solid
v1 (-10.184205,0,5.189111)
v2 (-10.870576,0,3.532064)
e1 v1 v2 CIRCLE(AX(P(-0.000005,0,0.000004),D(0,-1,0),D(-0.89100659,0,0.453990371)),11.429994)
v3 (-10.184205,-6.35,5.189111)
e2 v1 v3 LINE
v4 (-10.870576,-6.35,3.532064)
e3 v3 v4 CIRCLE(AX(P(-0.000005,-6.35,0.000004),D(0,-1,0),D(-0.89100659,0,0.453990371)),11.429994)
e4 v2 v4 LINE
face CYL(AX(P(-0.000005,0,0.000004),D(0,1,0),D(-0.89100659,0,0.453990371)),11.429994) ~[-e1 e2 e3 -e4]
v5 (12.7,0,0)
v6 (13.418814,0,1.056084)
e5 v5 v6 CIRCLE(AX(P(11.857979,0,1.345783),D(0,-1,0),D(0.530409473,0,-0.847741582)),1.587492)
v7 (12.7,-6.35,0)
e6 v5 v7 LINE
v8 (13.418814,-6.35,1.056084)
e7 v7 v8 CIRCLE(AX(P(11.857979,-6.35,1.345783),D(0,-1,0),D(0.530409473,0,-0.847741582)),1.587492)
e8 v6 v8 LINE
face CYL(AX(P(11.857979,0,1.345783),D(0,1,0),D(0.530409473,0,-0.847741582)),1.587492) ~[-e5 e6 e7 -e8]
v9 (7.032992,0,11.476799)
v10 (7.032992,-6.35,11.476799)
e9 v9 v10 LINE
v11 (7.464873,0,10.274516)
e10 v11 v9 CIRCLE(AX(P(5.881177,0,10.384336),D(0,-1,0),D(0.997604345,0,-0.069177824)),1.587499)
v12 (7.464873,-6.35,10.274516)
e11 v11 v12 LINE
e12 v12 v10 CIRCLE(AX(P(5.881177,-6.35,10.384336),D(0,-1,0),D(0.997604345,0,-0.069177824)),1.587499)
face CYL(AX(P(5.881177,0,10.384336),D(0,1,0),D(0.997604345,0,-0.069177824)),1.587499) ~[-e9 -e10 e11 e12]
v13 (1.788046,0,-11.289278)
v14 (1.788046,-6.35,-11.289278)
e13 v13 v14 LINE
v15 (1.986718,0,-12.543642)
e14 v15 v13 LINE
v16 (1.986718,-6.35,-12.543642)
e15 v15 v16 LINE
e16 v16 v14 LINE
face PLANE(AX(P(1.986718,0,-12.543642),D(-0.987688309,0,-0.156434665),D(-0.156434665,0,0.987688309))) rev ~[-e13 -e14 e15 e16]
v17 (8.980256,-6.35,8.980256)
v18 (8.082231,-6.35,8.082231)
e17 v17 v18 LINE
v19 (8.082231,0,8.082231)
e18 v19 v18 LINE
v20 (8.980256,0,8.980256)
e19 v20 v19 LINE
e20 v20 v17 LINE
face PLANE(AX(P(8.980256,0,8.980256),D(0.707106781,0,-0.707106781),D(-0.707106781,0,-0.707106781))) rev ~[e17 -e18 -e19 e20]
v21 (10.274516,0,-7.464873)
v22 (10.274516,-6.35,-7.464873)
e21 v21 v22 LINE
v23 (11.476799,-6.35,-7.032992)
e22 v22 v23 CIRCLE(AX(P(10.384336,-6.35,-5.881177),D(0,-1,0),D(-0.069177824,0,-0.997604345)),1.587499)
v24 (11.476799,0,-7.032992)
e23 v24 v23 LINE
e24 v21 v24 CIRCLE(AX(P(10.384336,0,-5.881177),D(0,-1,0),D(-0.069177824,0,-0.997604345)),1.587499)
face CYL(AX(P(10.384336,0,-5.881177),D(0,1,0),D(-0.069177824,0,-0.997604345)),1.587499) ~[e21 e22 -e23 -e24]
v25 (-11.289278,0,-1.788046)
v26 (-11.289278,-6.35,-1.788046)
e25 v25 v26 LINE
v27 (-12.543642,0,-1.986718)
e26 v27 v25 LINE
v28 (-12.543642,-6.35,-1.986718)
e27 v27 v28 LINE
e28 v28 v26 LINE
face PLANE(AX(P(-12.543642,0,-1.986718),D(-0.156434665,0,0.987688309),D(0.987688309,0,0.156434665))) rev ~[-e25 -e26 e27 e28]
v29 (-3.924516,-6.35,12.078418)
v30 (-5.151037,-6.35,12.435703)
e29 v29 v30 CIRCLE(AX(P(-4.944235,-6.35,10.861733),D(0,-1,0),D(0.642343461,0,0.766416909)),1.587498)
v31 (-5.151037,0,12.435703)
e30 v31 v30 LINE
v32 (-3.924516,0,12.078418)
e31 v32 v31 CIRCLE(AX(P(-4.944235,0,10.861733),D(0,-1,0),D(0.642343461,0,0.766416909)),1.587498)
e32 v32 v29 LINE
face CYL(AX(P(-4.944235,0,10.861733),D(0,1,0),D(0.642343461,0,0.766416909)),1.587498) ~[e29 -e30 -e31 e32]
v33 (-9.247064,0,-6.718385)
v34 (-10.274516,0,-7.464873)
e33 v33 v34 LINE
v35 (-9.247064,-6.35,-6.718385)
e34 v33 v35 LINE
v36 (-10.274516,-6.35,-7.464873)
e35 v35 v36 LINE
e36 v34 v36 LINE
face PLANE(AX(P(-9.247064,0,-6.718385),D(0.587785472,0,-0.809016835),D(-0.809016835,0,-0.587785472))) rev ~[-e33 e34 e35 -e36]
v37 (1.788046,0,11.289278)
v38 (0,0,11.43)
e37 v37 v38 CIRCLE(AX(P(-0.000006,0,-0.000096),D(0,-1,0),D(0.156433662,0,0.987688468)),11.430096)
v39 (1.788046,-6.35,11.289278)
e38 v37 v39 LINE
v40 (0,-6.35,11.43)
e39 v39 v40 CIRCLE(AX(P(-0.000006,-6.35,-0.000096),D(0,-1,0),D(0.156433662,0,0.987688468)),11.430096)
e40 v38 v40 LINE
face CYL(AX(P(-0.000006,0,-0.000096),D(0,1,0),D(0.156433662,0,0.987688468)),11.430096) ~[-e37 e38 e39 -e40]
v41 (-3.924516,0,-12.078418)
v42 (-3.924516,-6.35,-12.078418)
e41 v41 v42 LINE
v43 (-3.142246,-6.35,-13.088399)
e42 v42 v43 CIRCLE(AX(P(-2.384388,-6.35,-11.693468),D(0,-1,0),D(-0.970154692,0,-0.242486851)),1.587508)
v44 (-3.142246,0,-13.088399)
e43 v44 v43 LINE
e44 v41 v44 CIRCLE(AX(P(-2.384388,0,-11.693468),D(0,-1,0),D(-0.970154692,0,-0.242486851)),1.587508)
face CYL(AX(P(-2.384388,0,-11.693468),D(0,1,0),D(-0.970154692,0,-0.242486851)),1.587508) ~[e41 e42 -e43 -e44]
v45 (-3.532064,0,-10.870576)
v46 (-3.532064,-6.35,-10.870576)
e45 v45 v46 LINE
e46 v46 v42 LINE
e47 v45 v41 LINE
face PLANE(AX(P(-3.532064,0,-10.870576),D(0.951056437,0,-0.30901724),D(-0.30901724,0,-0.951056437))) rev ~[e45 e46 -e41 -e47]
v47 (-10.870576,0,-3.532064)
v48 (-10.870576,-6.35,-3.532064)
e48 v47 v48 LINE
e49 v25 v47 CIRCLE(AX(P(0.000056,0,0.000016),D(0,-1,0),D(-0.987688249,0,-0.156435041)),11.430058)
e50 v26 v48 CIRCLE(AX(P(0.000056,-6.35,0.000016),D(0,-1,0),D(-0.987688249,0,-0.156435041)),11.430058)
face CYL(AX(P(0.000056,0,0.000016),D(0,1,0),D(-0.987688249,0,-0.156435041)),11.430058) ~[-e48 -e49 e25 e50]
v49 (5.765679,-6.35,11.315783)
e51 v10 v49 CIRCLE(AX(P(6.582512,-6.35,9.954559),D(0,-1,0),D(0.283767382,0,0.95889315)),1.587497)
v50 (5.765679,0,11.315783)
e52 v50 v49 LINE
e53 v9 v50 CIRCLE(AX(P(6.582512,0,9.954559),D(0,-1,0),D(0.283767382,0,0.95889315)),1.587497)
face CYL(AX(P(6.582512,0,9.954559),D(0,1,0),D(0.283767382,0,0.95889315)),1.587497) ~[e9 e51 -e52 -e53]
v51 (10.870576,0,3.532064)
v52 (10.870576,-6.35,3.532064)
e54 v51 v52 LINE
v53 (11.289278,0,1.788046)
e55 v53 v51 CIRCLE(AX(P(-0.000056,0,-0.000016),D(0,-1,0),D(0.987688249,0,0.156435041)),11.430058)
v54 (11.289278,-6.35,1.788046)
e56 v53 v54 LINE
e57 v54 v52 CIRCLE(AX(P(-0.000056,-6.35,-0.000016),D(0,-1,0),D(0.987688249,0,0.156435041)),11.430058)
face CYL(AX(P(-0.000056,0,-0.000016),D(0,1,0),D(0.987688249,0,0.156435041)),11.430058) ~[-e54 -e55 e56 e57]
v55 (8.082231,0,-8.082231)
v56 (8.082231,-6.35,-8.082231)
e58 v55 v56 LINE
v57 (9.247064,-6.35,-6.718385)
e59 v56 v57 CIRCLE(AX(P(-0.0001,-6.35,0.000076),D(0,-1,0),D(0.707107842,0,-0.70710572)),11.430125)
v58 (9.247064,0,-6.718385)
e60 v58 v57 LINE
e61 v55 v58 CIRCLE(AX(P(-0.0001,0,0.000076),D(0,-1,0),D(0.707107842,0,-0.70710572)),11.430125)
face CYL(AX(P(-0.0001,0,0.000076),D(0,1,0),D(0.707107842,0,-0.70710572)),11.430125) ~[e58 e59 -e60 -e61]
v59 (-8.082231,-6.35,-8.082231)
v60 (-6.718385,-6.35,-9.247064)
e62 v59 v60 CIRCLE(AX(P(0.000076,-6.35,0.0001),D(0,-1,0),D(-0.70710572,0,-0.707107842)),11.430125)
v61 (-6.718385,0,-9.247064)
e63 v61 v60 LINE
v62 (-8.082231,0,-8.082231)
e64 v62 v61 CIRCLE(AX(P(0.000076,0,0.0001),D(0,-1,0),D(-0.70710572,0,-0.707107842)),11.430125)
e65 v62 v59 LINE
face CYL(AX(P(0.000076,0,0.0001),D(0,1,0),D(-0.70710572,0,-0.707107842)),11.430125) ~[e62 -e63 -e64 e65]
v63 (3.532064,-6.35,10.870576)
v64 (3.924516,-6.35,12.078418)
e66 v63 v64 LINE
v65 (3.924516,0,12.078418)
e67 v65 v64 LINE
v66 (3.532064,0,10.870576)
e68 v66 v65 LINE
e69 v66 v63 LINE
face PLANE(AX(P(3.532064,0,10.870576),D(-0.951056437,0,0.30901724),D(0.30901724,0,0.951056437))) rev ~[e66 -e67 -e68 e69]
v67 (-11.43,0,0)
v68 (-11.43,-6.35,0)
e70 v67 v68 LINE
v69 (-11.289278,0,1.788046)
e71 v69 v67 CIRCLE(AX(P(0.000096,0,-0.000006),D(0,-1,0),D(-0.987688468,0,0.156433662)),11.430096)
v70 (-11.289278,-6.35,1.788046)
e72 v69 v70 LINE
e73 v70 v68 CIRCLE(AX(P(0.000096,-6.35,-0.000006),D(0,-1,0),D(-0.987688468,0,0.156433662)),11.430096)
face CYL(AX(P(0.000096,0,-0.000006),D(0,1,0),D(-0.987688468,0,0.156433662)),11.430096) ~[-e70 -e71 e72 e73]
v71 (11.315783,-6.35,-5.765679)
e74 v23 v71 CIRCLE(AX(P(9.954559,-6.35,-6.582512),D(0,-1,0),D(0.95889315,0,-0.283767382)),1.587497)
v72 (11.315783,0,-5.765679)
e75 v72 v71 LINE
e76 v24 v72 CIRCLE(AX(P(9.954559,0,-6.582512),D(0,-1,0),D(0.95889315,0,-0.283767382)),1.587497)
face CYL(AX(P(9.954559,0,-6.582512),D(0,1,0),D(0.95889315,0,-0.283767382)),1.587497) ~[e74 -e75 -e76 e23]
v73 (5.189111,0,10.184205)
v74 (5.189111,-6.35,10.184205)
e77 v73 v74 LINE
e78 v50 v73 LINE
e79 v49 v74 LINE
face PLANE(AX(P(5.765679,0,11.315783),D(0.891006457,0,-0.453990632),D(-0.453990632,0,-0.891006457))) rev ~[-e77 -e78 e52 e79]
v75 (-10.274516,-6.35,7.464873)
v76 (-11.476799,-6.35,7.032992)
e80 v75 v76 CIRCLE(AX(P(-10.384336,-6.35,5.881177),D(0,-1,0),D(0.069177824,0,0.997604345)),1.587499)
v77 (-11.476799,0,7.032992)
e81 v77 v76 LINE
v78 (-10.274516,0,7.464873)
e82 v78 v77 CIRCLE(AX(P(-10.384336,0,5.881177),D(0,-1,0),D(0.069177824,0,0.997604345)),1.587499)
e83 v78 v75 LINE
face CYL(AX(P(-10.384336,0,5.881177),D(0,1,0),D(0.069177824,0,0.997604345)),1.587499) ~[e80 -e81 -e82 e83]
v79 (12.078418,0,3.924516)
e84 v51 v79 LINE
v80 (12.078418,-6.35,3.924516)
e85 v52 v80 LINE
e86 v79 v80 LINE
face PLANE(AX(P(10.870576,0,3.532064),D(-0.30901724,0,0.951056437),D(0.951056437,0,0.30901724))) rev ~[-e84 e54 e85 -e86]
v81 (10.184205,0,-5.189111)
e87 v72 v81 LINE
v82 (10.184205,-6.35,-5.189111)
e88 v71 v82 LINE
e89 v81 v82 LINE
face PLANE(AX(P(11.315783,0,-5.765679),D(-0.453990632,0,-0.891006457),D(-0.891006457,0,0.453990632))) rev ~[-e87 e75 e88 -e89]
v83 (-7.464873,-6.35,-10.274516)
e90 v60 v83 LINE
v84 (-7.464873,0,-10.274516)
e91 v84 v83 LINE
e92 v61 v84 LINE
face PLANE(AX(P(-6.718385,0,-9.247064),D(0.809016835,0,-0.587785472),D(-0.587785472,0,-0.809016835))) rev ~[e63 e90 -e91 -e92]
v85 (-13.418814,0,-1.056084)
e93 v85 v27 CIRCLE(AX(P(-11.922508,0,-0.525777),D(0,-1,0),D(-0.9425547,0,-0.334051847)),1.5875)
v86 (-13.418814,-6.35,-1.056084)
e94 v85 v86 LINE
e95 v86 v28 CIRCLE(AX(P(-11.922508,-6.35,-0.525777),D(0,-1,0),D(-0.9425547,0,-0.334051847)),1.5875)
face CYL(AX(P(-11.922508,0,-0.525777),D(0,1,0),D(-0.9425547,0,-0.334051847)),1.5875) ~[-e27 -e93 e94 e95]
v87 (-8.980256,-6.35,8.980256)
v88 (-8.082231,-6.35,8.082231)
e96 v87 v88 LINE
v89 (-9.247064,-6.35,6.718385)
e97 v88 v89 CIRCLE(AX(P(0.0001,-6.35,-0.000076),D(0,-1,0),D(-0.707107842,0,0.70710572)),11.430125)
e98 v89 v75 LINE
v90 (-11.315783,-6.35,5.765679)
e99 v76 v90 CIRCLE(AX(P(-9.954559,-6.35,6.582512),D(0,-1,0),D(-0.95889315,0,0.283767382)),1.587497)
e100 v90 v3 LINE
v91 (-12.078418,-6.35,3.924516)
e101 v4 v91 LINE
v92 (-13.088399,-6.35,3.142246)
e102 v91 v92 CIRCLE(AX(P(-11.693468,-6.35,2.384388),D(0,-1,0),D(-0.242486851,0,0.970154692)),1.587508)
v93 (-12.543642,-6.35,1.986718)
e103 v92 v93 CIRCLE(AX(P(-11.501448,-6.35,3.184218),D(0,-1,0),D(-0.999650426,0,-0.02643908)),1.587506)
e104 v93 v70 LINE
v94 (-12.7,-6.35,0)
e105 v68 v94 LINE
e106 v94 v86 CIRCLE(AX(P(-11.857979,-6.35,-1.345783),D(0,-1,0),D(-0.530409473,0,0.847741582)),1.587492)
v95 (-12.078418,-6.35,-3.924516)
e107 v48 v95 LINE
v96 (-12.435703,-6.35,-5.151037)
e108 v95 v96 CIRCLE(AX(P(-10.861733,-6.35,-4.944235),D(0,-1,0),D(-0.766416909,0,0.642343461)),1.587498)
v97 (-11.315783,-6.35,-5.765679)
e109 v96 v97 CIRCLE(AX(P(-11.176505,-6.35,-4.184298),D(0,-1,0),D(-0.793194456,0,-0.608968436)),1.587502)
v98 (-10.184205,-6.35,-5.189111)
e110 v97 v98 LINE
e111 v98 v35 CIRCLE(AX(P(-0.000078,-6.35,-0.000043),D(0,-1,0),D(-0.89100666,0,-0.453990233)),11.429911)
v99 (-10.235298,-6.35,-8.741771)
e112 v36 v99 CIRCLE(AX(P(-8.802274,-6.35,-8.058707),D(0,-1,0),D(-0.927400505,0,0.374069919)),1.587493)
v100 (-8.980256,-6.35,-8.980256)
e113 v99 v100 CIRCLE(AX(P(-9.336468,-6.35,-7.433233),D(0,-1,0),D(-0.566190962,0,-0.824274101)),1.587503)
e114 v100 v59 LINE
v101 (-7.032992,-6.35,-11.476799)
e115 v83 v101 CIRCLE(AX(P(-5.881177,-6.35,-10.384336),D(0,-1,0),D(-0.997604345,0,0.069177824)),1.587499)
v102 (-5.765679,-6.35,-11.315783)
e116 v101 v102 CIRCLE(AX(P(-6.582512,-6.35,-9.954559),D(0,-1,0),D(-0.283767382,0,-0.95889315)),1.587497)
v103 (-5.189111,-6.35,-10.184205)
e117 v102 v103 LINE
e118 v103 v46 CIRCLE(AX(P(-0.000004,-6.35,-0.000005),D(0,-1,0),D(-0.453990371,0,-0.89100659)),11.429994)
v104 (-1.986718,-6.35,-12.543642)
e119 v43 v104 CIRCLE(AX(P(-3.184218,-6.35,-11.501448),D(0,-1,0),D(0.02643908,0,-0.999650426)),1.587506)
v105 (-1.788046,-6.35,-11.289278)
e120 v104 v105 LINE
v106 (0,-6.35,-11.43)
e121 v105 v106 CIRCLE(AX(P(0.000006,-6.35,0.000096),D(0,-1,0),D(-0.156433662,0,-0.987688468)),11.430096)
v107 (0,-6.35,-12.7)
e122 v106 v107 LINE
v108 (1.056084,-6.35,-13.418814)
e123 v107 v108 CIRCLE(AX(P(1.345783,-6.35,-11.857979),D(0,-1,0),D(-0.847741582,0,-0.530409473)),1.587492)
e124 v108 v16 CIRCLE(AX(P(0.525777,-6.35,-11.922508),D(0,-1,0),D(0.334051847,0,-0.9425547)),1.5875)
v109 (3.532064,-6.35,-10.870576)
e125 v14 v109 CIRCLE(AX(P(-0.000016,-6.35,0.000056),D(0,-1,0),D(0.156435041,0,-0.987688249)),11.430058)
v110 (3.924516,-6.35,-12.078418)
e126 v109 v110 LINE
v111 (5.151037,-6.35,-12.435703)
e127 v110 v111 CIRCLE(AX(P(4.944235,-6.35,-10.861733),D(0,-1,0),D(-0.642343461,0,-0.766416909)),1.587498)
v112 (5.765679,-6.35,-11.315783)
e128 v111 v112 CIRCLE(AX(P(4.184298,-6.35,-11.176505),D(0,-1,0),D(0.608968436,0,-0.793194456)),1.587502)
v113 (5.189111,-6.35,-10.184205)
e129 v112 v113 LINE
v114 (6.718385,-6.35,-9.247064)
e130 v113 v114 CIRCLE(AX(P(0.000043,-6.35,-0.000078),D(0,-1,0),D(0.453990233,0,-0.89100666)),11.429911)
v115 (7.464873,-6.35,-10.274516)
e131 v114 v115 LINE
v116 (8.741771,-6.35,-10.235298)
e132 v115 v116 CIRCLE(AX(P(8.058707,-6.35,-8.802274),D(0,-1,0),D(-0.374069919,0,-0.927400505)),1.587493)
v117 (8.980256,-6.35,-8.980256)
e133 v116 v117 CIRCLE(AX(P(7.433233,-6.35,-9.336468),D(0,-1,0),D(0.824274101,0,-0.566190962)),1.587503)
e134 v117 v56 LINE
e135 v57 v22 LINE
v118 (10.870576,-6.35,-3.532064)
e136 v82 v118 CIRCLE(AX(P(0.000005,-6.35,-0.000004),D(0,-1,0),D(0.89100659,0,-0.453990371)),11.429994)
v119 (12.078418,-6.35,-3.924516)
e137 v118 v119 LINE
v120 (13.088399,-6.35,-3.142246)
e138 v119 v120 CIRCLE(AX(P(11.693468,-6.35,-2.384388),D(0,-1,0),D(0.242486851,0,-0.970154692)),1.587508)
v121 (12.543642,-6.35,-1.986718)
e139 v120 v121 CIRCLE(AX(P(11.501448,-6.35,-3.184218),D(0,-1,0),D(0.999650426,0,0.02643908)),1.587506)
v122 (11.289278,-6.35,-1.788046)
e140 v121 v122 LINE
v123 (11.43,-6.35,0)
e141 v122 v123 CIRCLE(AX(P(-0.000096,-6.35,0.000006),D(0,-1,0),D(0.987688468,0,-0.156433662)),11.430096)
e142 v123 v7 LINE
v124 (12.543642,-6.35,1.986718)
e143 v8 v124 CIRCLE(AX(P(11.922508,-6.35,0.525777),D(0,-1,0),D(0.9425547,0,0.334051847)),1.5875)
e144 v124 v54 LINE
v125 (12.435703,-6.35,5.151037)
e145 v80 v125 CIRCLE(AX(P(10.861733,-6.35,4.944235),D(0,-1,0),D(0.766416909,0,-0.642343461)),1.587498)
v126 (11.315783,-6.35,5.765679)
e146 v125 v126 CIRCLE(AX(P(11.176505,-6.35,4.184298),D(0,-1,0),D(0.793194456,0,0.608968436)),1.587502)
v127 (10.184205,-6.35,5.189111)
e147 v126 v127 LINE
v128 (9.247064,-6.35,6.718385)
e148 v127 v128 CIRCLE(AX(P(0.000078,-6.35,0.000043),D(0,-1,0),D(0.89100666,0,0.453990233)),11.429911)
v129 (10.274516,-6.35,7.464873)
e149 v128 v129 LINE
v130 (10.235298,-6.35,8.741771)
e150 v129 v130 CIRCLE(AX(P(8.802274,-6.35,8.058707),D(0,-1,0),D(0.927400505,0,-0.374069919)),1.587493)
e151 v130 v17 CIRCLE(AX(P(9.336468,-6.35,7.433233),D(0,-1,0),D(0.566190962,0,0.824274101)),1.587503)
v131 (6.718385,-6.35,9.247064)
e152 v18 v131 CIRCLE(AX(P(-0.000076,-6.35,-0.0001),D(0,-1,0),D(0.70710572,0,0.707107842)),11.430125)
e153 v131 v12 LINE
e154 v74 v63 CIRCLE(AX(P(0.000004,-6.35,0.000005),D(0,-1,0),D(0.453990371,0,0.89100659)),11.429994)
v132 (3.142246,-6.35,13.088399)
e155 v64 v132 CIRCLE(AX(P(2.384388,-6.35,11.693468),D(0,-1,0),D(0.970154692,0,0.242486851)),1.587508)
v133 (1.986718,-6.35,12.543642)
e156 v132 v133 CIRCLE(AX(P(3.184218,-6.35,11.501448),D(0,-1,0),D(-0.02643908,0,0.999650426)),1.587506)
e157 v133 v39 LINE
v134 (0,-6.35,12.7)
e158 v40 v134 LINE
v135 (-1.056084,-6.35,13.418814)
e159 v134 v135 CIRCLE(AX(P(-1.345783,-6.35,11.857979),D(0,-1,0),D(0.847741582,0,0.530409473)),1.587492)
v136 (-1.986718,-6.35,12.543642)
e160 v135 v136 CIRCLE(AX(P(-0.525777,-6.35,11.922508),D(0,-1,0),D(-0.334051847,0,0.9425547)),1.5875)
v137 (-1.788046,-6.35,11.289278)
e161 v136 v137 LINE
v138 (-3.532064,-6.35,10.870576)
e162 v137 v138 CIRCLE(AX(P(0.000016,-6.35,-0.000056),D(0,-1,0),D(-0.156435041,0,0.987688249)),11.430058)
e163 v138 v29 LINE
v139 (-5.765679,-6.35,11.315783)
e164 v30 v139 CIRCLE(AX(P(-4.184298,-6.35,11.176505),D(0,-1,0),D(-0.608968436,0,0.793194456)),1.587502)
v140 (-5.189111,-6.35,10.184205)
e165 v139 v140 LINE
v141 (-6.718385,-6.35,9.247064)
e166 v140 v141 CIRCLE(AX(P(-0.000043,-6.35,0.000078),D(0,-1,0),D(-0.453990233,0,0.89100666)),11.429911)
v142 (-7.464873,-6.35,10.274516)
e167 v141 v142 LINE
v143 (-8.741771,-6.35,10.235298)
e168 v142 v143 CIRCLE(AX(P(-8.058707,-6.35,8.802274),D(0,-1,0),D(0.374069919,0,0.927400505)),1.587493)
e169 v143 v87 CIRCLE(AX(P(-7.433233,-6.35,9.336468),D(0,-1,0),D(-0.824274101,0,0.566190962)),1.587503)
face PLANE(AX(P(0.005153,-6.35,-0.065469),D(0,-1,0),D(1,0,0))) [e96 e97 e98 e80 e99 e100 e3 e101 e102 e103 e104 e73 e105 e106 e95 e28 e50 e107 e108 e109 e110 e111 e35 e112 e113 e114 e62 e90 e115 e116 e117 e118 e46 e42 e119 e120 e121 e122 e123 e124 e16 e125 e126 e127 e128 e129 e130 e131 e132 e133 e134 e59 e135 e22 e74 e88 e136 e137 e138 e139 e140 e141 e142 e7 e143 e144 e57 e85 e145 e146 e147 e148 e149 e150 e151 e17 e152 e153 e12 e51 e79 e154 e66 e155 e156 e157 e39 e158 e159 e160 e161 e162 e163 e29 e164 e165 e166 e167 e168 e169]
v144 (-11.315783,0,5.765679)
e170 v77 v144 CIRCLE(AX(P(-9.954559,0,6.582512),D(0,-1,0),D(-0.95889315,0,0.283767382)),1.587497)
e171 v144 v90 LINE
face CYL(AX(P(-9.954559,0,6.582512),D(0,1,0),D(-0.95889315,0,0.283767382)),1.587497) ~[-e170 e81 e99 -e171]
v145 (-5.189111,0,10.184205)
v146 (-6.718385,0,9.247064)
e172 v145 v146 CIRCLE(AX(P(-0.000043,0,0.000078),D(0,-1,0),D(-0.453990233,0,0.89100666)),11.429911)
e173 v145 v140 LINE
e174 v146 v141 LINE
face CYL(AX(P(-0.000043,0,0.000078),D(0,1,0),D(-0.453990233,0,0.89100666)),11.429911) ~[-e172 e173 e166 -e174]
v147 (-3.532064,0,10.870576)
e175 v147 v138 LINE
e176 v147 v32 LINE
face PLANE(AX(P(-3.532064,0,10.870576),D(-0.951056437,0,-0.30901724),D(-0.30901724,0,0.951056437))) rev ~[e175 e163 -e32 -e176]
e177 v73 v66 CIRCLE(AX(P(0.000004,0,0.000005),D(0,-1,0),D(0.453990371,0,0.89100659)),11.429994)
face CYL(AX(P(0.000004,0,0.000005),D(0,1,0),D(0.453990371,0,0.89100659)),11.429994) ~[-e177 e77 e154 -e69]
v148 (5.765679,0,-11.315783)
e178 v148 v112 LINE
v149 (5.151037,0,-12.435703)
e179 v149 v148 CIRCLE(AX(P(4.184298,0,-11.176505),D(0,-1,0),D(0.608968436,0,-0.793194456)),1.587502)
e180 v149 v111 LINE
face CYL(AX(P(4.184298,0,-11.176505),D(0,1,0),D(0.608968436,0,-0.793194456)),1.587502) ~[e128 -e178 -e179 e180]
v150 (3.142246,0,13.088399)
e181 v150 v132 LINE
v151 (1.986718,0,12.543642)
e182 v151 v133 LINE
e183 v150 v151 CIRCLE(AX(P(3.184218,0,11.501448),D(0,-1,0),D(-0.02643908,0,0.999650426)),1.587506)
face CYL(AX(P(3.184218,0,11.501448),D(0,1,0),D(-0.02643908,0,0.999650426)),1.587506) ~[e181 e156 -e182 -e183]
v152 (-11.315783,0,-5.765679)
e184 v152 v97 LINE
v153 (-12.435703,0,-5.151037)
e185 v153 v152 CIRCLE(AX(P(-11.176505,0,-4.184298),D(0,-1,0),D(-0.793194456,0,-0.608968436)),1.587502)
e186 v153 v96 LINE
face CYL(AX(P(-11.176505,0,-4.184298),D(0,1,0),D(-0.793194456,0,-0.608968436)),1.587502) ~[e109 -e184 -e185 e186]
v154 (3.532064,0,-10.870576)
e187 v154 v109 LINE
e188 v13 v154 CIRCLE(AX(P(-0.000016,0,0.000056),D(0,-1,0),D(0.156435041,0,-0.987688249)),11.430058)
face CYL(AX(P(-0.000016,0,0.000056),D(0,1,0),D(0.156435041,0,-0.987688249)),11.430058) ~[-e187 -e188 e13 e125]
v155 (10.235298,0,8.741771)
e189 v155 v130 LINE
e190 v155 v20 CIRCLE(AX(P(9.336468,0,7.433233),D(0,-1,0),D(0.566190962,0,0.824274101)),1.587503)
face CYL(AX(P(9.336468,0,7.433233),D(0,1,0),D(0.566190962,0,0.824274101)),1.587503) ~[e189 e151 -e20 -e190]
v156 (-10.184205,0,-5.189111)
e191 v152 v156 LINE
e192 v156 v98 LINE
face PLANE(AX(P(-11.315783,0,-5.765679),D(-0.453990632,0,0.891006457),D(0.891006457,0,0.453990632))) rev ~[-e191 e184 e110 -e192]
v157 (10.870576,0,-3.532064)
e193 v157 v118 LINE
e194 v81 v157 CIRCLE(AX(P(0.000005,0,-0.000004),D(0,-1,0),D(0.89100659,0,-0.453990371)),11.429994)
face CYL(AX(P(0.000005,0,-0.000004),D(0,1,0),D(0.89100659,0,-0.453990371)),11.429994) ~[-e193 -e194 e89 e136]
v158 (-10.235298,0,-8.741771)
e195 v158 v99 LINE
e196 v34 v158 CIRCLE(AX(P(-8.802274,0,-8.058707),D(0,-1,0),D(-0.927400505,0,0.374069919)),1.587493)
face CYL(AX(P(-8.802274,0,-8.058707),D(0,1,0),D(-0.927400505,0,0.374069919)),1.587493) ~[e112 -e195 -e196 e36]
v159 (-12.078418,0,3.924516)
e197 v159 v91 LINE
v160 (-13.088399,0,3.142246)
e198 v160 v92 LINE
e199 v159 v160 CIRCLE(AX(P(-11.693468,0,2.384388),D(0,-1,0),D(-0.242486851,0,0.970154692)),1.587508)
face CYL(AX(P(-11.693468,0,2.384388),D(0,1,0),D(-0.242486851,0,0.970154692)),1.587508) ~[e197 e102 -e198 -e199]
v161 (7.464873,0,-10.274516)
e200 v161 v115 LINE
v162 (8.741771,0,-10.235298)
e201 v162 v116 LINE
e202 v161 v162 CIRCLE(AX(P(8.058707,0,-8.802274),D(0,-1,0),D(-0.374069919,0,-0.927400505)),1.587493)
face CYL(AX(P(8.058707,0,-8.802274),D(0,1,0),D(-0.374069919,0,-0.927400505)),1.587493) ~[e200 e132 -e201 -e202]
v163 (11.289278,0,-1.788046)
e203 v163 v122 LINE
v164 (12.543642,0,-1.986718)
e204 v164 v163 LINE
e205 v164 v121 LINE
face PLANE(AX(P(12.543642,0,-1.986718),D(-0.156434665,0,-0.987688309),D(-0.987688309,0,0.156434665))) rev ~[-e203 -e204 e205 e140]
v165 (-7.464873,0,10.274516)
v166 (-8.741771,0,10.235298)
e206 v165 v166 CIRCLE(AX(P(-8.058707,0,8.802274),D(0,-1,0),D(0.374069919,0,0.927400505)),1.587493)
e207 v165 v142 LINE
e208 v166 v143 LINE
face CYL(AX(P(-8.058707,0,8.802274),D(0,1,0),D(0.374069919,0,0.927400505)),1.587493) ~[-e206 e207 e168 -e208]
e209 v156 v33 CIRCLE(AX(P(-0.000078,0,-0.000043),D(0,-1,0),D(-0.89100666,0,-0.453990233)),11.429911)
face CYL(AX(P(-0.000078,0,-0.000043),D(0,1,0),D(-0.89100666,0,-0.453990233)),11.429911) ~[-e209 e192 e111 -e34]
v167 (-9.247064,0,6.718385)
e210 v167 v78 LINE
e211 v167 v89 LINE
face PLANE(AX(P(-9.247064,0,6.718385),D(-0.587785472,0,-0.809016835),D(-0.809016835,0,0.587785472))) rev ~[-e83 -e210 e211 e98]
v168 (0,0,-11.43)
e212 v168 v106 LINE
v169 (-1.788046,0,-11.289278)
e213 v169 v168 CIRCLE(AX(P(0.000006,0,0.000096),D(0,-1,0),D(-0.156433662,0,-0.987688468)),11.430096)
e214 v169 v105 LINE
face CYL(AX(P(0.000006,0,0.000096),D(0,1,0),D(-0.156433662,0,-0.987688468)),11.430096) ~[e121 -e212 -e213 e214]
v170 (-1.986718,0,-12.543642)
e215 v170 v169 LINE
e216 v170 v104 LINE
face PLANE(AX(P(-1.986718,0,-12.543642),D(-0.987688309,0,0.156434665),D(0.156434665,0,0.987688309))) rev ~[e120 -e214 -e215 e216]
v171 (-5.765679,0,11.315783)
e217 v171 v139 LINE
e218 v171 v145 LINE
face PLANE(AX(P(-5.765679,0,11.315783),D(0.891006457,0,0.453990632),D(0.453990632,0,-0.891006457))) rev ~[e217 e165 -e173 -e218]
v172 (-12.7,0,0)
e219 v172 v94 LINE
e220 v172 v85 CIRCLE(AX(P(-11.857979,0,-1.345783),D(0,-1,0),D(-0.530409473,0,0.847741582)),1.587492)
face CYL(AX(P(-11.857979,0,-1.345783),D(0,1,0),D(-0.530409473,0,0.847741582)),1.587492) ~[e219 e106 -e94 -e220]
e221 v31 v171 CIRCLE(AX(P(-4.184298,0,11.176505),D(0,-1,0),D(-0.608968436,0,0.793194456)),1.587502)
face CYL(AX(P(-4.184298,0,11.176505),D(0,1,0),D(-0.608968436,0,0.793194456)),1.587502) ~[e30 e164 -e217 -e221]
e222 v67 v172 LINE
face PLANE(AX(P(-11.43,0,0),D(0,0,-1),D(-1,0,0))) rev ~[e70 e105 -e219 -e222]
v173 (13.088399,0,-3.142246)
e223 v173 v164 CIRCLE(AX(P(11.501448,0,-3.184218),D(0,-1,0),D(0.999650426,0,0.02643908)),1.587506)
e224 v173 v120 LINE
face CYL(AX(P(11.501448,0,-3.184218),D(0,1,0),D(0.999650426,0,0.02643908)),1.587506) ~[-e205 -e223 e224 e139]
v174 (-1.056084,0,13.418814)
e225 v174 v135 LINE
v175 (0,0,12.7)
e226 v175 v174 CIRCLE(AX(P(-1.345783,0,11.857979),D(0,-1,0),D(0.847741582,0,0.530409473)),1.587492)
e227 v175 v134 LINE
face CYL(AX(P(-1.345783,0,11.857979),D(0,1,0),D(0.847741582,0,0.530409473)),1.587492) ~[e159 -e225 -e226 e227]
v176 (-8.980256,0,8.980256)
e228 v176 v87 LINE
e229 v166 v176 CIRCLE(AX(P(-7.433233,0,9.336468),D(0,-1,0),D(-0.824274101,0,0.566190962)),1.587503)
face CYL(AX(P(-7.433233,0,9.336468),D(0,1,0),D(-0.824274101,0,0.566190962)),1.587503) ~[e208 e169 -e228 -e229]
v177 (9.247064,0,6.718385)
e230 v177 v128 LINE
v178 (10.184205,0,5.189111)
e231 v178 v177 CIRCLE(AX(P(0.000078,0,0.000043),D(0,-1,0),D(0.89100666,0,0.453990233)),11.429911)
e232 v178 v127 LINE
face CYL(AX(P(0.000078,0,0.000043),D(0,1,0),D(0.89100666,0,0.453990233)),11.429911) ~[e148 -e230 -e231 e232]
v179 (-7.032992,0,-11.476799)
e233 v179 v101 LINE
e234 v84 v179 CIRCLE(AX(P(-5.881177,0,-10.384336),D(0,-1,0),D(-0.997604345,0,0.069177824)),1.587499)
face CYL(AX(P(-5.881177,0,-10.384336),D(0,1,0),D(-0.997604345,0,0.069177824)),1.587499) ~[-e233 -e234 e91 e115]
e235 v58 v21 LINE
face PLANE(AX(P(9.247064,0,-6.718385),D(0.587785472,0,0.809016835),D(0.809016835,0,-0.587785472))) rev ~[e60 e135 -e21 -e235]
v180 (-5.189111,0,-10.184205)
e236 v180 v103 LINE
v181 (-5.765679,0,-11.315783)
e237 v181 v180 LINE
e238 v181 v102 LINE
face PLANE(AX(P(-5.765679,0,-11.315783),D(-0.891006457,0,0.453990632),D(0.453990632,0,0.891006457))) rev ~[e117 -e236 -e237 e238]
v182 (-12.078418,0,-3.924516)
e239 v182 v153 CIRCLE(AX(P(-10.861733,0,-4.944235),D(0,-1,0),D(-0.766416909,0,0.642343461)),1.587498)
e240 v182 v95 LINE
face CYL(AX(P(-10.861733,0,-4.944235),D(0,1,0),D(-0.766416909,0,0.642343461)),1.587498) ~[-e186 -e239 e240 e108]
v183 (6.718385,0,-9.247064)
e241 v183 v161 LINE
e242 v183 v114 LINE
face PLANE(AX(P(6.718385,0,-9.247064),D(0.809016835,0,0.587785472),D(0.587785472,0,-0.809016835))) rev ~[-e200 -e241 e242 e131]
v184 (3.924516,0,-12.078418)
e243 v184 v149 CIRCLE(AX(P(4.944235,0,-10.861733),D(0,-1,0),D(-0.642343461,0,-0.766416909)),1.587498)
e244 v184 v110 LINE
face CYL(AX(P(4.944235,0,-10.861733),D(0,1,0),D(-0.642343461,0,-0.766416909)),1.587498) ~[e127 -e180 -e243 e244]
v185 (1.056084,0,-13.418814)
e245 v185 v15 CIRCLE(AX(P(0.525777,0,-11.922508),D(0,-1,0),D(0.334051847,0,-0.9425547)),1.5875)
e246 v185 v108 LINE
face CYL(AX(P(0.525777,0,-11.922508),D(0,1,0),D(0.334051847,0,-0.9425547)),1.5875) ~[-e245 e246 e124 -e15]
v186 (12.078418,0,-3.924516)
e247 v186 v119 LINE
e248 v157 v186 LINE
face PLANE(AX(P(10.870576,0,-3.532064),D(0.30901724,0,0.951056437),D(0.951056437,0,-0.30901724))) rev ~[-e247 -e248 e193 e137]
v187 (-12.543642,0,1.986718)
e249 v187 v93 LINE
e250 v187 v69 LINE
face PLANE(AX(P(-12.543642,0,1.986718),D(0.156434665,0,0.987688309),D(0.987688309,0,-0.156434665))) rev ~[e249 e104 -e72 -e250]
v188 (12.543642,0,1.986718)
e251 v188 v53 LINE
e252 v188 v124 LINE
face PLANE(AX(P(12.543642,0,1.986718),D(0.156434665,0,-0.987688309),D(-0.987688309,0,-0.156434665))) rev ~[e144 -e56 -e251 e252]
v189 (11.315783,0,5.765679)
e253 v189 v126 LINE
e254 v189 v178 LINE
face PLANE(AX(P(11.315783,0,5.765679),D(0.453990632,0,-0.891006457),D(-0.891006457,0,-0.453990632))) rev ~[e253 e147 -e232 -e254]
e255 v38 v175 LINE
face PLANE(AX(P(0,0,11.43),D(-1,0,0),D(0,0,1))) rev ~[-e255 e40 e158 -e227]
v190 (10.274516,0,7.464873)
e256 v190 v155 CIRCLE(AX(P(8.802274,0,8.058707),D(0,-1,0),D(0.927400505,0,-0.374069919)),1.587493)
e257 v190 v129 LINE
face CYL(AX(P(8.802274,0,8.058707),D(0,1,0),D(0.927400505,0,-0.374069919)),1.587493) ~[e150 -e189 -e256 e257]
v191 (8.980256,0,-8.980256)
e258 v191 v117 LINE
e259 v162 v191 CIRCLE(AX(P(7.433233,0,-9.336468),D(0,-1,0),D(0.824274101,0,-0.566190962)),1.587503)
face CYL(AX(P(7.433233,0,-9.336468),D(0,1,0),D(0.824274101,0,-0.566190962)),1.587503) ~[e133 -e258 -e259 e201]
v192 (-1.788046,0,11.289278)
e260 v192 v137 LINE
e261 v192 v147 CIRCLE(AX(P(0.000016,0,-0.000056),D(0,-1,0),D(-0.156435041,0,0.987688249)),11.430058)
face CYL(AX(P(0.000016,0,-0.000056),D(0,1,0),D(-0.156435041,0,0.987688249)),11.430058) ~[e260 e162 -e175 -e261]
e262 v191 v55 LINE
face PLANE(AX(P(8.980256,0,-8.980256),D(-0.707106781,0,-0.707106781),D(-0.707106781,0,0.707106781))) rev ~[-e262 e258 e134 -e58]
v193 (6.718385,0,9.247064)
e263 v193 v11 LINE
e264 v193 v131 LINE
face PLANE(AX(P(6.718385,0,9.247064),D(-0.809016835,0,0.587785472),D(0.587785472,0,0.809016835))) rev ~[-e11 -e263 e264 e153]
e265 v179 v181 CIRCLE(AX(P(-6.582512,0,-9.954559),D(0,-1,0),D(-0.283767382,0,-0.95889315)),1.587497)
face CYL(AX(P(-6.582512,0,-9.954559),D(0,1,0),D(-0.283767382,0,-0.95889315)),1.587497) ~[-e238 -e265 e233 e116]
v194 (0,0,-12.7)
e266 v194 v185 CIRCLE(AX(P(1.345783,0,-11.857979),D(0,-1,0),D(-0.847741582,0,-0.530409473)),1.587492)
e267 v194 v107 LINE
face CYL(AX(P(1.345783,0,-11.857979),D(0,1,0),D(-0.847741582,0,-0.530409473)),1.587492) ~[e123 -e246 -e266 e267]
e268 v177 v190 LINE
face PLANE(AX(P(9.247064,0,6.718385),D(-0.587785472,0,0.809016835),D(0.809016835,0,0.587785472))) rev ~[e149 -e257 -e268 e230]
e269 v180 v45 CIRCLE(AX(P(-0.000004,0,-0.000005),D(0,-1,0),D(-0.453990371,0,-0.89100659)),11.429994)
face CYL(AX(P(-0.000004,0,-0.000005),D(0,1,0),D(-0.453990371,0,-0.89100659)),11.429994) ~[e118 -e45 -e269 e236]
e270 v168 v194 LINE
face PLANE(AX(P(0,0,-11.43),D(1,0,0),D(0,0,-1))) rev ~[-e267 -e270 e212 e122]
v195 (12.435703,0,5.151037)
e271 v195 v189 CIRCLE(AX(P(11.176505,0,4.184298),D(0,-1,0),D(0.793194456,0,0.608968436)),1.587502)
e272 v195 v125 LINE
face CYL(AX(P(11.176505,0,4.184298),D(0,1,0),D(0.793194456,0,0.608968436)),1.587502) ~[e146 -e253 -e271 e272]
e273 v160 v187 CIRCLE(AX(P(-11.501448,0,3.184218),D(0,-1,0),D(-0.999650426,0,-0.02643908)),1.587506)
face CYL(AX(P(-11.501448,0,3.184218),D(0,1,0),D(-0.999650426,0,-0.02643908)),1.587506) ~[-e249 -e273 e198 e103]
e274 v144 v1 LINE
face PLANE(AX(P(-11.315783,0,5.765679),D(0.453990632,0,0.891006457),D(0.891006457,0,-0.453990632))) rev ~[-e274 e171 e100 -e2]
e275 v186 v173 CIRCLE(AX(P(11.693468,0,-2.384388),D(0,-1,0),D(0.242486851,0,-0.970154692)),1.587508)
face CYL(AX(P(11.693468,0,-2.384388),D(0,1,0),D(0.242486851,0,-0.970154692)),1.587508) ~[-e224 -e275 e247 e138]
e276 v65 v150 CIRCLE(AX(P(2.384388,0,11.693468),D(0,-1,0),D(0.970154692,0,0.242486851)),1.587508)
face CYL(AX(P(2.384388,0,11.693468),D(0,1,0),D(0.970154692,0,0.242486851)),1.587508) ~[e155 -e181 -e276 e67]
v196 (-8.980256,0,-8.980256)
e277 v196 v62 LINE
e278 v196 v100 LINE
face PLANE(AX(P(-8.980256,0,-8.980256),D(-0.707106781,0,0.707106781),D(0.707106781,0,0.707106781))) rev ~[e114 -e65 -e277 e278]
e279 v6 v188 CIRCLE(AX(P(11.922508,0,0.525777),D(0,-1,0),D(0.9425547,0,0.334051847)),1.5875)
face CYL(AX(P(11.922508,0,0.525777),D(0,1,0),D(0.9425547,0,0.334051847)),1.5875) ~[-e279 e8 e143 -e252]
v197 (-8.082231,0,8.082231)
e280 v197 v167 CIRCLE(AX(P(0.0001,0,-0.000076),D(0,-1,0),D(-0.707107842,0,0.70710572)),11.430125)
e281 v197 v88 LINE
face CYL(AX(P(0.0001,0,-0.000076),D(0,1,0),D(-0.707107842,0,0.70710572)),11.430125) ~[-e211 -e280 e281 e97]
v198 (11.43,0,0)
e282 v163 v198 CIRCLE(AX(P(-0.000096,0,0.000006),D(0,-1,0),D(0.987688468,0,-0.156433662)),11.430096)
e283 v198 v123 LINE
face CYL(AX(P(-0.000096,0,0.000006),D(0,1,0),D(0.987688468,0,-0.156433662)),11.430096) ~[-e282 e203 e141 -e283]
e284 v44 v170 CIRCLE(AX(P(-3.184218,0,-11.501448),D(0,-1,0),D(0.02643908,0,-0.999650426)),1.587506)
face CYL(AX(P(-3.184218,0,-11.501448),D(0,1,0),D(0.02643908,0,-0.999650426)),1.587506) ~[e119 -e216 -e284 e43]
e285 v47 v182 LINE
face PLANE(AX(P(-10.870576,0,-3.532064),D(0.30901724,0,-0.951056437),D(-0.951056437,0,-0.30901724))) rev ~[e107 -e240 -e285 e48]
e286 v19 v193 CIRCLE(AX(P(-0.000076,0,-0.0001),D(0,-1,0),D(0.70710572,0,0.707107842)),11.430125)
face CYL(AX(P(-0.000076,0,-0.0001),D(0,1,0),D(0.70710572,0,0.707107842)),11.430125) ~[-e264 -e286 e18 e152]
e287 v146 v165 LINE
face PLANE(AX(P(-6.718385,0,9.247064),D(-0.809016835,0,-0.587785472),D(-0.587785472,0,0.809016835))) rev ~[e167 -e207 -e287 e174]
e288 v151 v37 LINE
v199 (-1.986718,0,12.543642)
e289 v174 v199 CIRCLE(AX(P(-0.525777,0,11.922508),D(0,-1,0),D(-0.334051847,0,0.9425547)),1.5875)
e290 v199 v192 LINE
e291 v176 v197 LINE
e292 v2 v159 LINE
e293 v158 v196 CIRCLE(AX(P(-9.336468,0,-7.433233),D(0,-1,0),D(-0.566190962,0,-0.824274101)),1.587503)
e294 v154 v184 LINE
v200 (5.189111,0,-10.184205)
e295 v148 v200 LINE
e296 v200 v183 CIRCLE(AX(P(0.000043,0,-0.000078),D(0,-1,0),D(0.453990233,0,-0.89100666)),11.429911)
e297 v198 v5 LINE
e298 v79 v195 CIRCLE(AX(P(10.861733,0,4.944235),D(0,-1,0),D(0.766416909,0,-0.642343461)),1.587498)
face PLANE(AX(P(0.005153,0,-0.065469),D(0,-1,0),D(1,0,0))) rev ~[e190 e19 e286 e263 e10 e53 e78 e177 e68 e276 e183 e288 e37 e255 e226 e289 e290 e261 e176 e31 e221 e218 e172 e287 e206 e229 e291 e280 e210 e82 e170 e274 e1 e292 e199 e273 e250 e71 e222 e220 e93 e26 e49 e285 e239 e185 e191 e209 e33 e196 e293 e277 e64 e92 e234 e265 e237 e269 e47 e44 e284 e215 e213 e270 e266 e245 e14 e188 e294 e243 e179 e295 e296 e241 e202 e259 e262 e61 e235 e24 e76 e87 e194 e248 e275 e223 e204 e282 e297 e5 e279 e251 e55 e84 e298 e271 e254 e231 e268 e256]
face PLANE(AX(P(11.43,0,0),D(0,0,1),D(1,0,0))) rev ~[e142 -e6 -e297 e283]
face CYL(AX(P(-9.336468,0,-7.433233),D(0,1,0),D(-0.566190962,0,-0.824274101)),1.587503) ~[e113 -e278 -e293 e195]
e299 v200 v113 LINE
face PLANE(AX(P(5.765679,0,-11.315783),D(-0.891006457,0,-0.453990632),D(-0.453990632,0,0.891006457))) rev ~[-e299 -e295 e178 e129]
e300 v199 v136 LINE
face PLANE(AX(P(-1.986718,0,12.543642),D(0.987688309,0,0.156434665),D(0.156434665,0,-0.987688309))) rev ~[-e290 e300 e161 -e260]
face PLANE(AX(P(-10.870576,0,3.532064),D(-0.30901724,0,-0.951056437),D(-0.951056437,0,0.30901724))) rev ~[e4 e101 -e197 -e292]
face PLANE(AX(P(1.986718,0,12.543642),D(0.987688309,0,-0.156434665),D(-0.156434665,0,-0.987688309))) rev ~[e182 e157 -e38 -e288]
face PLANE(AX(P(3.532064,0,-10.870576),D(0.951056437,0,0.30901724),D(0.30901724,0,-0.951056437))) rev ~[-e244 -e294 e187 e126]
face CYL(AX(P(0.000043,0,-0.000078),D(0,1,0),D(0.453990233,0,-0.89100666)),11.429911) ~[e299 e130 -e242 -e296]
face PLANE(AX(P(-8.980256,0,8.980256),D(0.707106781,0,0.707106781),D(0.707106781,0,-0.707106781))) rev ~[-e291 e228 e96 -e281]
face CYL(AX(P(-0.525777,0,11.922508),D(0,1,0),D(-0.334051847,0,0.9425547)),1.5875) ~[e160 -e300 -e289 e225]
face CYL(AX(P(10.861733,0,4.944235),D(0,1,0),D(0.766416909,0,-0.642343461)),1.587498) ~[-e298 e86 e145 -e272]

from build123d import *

# Parameters (mm, degrees)
F1_DEPTH = 6.35


with BuildPart() as f1:
    # F0 (on Front) → F1 (new body)
    with BuildSketch(Plane.XZ):
        with BuildLine():
            Line((0, 11.43), (0, 12.7))
            ThreePointArc((0, 12.7), (-0.996431, 12.66085), (-1.986718, 12.543642))
            Line((-1.986718, 12.543642), (-1.788046, 11.289278))
            ThreePointArc((-1.788046, 11.289278), (-2.668281, 11.114188), (-3.532064, 10.870576))
            Line((-3.532064, 10.870576), (-3.924516, 12.078418))
            ThreePointArc((-3.924516, 12.078418), (-4.500251, 12.385881), (-5.151037, 12.435703))
            ThreePointArc((-5.151037, 12.435703), (-5.575982, 11.940298), (-5.765679, 11.315783))
            Line((-5.765679, 11.315783), (-5.189111, 10.184205))
            ThreePointArc((-5.189111, 10.184205), (-5.972159, 9.745677), (-6.718385, 9.247064))
            Line((-6.718385, 9.247064), (-7.464873, 10.274516))
            ThreePointArc((-7.464873, 10.274516), (-8.107441, 10.389019), (-8.741771, 10.235298))
            ThreePointArc((-8.741771, 10.235298), (-8.992829, 9.632825), (-8.980256, 8.980256))
            Line((-8.980256, 8.980256), (-8.082231, 8.082231))
            ThreePointArc((-8.082231, 8.082231), (-8.69144, 7.423191), (-9.247064, 6.718385))
            Line((-9.247064, 6.718385), (-10.274516, 7.464873))
            ThreePointArc((-10.274516, 7.464873), (-10.921018, 7.375207), (-11.476799, 7.032992))
            ThreePointArc((-11.476799, 7.032992), (-11.529396, 6.382424), (-11.315783, 5.765679))
            Line((-11.315783, 5.765679), (-10.184205, 5.189111))
            ThreePointArc((-10.184205, 5.189111), (-10.559943, 4.374072), (-10.870576, 3.532064))
            Line((-10.870576, 3.532064), (-12.078418, 3.924516))
            ThreePointArc((-12.078418, 3.924516), (-12.665569, 3.639458), (-13.088399, 3.142246))
            ThreePointArc((-13.088399, 3.142246), (-12.937384, 2.507267), (-12.543642, 1.986718))
            Line((-12.543642, 1.986718), (-11.289278, 1.788046))
            ThreePointArc((-11.289278, 1.788046), (-11.394765, 0.896787), (-11.43, 0))
            Line((-11.43, 0), (-12.7, 0))
            ThreePointArc((-12.7, 0), (-13.170327, -0.452545), (-13.418814, -1.056084))
            ThreePointArc((-13.418814, -1.056084), (-13.078972, -1.613319), (-12.543642, -1.986718))
            Line((-12.543642, -1.986718), (-11.289278, -1.788046))
            ThreePointArc((-11.289278, -1.788046), (-11.114188, -2.668281), (-10.870576, -3.532064))
            Line((-10.870576, -3.532064), (-12.078418, -3.924516))
            ThreePointArc((-12.078418, -3.924516), (-12.385881, -4.500251), (-12.435703, -5.151037))
            ThreePointArc((-12.435703, -5.151037), (-11.940298, -5.575982), (-11.315783, -5.765679))
            Line((-11.315783, -5.765679), (-10.184205, -5.189111))
            ThreePointArc((-10.184205, -5.189111), (-9.745677, -5.972159), (-9.247064, -6.718385))
            Line((-9.247064, -6.718385), (-10.274516, -7.464873))
            ThreePointArc((-10.274516, -7.464873), (-10.389019, -8.107441), (-10.235298, -8.741771))
            ThreePointArc((-10.235298, -8.741771), (-9.632825, -8.992829), (-8.980256, -8.980256))
            Line((-8.980256, -8.980256), (-8.082231, -8.082231))
            ThreePointArc((-8.082231, -8.082231), (-7.423191, -8.69144), (-6.718385, -9.247064))
            Line((-6.718385, -9.247064), (-7.464873, -10.274516))
            ThreePointArc((-7.464873, -10.274516), (-7.375207, -10.921018), (-7.032992, -11.476799))
            ThreePointArc((-7.032992, -11.476799), (-6.382424, -11.529396), (-5.765679, -11.315783))
            Line((-5.765679, -11.315783), (-5.189111, -10.184205))
            ThreePointArc((-5.189111, -10.184205), (-4.374072, -10.559943), (-3.532064, -10.870576))
            Line((-3.532064, -10.870576), (-3.924516, -12.078418))
            ThreePointArc((-3.924516, -12.078418), (-3.639458, -12.665569), (-3.142246, -13.088399))
            ThreePointArc((-3.142246, -13.088399), (-2.507267, -12.937384), (-1.986718, -12.543642))
            Line((-1.986718, -12.543642), (-1.788046, -11.289278))
            ThreePointArc((-1.788046, -11.289278), (-0.896787, -11.394765), (0, -11.43))
            Line((0, -11.43), (0, -12.7))
            ThreePointArc((0, -12.7), (0.452545, -13.170327), (1.056084, -13.418814))
            ThreePointArc((1.056084, -13.418814), (1.613319, -13.078972), (1.986718, -12.543642))
            Line((1.986718, -12.543642), (1.788046, -11.289278))
            ThreePointArc((1.788046, -11.289278), (2.668281, -11.114188), (3.532064, -10.870576))
            Line((3.532064, -10.870576), (3.924516, -12.078418))
            ThreePointArc((3.924516, -12.078418), (4.500251, -12.385881), (5.151037, -12.435703))
            ThreePointArc((5.151037, -12.435703), (5.575982, -11.940298), (5.765679, -11.315783))
            Line((5.765679, -11.315783), (5.189111, -10.184205))
            ThreePointArc((5.189111, -10.184205), (5.972159, -9.745677), (6.718385, -9.247064))
            Line((6.718385, -9.247064), (7.464873, -10.274516))
            ThreePointArc((7.464873, -10.274516), (8.107441, -10.389019), (8.741771, -10.235298))
            ThreePointArc((8.741771, -10.235298), (8.992829, -9.632825), (8.980256, -8.980256))
            Line((8.980256, -8.980256), (8.082231, -8.082231))
            ThreePointArc((8.082231, -8.082231), (8.69144, -7.423191), (9.247064, -6.718385))
            Line((9.247064, -6.718385), (10.274516, -7.464873))
            ThreePointArc((10.274516, -7.464873), (10.921018, -7.375207), (11.476799, -7.032992))
            ThreePointArc((11.476799, -7.032992), (11.529396, -6.382424), (11.315783, -5.765679))
            Line((11.315783, -5.765679), (10.184205, -5.189111))
            ThreePointArc((10.184205, -5.189111), (10.559943, -4.374072), (10.870576, -3.532064))
            Line((10.870576, -3.532064), (12.078418, -3.924516))
            ThreePointArc((12.078418, -3.924516), (12.665569, -3.639458), (13.088399, -3.142246))
            ThreePointArc((13.088399, -3.142246), (12.937384, -2.507267), (12.543642, -1.986718))
            Line((12.543642, -1.986718), (11.289278, -1.788046))
            ThreePointArc((11.289278, -1.788046), (11.394765, -0.896787), (11.43, 0))
            Line((11.43, 0), (12.7, 0))
            ThreePointArc((12.7, 0), (13.170327, 0.452545), (13.418814, 1.056084))
            ThreePointArc((13.418814, 1.056084), (13.078972, 1.613319), (12.543642, 1.986718))
            Line((12.543642, 1.986718), (11.289278, 1.788046))
            ThreePointArc((11.289278, 1.788046), (11.114188, 2.668281), (10.870576, 3.532064))
            Line((10.870576, 3.532064), (12.078418, 3.924516))
            ThreePointArc((12.078418, 3.924516), (12.385881, 4.500251), (12.435703, 5.151037))
            ThreePointArc((12.435703, 5.151037), (11.940298, 5.575982), (11.315783, 5.765679))
            Line((11.315783, 5.765679), (10.184205, 5.189111))
            ThreePointArc((10.184205, 5.189111), (9.745677, 5.972159), (9.247064, 6.718385))
            Line((9.247064, 6.718385), (10.274516, 7.464873))
            ThreePointArc((10.274516, 7.464873), (10.389019, 8.107441), (10.235298, 8.741771))
            ThreePointArc((10.235298, 8.741771), (9.632825, 8.992829), (8.980256, 8.980256))
            Line((8.980256, 8.980256), (8.082231, 8.082231))
            ThreePointArc((8.082231, 8.082231), (7.423191, 8.69144), (6.718385, 9.247064))
            Line((6.718385, 9.247064), (7.464873, 10.274516))
            ThreePointArc((7.464873, 10.274516), (7.375207, 10.921018), (7.032992, 11.476799))
            ThreePointArc((7.032992, 11.476799), (6.382424, 11.529396), (5.765679, 11.315783))
            Line((5.765679, 11.315783), (5.189111, 10.184205))
            ThreePointArc((5.189111, 10.184205), (4.374072, 10.559943), (3.532064, 10.870576))
            Line((3.532064, 10.870576), (3.924516, 12.078418))
            ThreePointArc((3.924516, 12.078418), (3.639458, 12.665569), (3.142246, 13.088399))
            ThreePointArc((3.142246, 13.088399), (2.507267, 12.937384), (1.986718, 12.543642))
            Line((1.986718, 12.543642), (1.788046, 11.289278))
            ThreePointArc((1.788046, 11.289278), (0.896787, 11.394765), (0, 11.43))
        make_face()
        with BuildLine():
            ThreePointArc((-1.986718, 12.543642), (-0.996431, 12.66085), (0, 12.7))
            ThreePointArc((0, 12.7), (-0.452545, 13.170327), (-1.056084, 13.418814))
            ThreePointArc((-1.056084, 13.418814), (-1.613319, 13.078972), (-1.986718, 12.543642))
        make_face()
    extrude(amount=F1_DEPTH)


solid = f1.part
